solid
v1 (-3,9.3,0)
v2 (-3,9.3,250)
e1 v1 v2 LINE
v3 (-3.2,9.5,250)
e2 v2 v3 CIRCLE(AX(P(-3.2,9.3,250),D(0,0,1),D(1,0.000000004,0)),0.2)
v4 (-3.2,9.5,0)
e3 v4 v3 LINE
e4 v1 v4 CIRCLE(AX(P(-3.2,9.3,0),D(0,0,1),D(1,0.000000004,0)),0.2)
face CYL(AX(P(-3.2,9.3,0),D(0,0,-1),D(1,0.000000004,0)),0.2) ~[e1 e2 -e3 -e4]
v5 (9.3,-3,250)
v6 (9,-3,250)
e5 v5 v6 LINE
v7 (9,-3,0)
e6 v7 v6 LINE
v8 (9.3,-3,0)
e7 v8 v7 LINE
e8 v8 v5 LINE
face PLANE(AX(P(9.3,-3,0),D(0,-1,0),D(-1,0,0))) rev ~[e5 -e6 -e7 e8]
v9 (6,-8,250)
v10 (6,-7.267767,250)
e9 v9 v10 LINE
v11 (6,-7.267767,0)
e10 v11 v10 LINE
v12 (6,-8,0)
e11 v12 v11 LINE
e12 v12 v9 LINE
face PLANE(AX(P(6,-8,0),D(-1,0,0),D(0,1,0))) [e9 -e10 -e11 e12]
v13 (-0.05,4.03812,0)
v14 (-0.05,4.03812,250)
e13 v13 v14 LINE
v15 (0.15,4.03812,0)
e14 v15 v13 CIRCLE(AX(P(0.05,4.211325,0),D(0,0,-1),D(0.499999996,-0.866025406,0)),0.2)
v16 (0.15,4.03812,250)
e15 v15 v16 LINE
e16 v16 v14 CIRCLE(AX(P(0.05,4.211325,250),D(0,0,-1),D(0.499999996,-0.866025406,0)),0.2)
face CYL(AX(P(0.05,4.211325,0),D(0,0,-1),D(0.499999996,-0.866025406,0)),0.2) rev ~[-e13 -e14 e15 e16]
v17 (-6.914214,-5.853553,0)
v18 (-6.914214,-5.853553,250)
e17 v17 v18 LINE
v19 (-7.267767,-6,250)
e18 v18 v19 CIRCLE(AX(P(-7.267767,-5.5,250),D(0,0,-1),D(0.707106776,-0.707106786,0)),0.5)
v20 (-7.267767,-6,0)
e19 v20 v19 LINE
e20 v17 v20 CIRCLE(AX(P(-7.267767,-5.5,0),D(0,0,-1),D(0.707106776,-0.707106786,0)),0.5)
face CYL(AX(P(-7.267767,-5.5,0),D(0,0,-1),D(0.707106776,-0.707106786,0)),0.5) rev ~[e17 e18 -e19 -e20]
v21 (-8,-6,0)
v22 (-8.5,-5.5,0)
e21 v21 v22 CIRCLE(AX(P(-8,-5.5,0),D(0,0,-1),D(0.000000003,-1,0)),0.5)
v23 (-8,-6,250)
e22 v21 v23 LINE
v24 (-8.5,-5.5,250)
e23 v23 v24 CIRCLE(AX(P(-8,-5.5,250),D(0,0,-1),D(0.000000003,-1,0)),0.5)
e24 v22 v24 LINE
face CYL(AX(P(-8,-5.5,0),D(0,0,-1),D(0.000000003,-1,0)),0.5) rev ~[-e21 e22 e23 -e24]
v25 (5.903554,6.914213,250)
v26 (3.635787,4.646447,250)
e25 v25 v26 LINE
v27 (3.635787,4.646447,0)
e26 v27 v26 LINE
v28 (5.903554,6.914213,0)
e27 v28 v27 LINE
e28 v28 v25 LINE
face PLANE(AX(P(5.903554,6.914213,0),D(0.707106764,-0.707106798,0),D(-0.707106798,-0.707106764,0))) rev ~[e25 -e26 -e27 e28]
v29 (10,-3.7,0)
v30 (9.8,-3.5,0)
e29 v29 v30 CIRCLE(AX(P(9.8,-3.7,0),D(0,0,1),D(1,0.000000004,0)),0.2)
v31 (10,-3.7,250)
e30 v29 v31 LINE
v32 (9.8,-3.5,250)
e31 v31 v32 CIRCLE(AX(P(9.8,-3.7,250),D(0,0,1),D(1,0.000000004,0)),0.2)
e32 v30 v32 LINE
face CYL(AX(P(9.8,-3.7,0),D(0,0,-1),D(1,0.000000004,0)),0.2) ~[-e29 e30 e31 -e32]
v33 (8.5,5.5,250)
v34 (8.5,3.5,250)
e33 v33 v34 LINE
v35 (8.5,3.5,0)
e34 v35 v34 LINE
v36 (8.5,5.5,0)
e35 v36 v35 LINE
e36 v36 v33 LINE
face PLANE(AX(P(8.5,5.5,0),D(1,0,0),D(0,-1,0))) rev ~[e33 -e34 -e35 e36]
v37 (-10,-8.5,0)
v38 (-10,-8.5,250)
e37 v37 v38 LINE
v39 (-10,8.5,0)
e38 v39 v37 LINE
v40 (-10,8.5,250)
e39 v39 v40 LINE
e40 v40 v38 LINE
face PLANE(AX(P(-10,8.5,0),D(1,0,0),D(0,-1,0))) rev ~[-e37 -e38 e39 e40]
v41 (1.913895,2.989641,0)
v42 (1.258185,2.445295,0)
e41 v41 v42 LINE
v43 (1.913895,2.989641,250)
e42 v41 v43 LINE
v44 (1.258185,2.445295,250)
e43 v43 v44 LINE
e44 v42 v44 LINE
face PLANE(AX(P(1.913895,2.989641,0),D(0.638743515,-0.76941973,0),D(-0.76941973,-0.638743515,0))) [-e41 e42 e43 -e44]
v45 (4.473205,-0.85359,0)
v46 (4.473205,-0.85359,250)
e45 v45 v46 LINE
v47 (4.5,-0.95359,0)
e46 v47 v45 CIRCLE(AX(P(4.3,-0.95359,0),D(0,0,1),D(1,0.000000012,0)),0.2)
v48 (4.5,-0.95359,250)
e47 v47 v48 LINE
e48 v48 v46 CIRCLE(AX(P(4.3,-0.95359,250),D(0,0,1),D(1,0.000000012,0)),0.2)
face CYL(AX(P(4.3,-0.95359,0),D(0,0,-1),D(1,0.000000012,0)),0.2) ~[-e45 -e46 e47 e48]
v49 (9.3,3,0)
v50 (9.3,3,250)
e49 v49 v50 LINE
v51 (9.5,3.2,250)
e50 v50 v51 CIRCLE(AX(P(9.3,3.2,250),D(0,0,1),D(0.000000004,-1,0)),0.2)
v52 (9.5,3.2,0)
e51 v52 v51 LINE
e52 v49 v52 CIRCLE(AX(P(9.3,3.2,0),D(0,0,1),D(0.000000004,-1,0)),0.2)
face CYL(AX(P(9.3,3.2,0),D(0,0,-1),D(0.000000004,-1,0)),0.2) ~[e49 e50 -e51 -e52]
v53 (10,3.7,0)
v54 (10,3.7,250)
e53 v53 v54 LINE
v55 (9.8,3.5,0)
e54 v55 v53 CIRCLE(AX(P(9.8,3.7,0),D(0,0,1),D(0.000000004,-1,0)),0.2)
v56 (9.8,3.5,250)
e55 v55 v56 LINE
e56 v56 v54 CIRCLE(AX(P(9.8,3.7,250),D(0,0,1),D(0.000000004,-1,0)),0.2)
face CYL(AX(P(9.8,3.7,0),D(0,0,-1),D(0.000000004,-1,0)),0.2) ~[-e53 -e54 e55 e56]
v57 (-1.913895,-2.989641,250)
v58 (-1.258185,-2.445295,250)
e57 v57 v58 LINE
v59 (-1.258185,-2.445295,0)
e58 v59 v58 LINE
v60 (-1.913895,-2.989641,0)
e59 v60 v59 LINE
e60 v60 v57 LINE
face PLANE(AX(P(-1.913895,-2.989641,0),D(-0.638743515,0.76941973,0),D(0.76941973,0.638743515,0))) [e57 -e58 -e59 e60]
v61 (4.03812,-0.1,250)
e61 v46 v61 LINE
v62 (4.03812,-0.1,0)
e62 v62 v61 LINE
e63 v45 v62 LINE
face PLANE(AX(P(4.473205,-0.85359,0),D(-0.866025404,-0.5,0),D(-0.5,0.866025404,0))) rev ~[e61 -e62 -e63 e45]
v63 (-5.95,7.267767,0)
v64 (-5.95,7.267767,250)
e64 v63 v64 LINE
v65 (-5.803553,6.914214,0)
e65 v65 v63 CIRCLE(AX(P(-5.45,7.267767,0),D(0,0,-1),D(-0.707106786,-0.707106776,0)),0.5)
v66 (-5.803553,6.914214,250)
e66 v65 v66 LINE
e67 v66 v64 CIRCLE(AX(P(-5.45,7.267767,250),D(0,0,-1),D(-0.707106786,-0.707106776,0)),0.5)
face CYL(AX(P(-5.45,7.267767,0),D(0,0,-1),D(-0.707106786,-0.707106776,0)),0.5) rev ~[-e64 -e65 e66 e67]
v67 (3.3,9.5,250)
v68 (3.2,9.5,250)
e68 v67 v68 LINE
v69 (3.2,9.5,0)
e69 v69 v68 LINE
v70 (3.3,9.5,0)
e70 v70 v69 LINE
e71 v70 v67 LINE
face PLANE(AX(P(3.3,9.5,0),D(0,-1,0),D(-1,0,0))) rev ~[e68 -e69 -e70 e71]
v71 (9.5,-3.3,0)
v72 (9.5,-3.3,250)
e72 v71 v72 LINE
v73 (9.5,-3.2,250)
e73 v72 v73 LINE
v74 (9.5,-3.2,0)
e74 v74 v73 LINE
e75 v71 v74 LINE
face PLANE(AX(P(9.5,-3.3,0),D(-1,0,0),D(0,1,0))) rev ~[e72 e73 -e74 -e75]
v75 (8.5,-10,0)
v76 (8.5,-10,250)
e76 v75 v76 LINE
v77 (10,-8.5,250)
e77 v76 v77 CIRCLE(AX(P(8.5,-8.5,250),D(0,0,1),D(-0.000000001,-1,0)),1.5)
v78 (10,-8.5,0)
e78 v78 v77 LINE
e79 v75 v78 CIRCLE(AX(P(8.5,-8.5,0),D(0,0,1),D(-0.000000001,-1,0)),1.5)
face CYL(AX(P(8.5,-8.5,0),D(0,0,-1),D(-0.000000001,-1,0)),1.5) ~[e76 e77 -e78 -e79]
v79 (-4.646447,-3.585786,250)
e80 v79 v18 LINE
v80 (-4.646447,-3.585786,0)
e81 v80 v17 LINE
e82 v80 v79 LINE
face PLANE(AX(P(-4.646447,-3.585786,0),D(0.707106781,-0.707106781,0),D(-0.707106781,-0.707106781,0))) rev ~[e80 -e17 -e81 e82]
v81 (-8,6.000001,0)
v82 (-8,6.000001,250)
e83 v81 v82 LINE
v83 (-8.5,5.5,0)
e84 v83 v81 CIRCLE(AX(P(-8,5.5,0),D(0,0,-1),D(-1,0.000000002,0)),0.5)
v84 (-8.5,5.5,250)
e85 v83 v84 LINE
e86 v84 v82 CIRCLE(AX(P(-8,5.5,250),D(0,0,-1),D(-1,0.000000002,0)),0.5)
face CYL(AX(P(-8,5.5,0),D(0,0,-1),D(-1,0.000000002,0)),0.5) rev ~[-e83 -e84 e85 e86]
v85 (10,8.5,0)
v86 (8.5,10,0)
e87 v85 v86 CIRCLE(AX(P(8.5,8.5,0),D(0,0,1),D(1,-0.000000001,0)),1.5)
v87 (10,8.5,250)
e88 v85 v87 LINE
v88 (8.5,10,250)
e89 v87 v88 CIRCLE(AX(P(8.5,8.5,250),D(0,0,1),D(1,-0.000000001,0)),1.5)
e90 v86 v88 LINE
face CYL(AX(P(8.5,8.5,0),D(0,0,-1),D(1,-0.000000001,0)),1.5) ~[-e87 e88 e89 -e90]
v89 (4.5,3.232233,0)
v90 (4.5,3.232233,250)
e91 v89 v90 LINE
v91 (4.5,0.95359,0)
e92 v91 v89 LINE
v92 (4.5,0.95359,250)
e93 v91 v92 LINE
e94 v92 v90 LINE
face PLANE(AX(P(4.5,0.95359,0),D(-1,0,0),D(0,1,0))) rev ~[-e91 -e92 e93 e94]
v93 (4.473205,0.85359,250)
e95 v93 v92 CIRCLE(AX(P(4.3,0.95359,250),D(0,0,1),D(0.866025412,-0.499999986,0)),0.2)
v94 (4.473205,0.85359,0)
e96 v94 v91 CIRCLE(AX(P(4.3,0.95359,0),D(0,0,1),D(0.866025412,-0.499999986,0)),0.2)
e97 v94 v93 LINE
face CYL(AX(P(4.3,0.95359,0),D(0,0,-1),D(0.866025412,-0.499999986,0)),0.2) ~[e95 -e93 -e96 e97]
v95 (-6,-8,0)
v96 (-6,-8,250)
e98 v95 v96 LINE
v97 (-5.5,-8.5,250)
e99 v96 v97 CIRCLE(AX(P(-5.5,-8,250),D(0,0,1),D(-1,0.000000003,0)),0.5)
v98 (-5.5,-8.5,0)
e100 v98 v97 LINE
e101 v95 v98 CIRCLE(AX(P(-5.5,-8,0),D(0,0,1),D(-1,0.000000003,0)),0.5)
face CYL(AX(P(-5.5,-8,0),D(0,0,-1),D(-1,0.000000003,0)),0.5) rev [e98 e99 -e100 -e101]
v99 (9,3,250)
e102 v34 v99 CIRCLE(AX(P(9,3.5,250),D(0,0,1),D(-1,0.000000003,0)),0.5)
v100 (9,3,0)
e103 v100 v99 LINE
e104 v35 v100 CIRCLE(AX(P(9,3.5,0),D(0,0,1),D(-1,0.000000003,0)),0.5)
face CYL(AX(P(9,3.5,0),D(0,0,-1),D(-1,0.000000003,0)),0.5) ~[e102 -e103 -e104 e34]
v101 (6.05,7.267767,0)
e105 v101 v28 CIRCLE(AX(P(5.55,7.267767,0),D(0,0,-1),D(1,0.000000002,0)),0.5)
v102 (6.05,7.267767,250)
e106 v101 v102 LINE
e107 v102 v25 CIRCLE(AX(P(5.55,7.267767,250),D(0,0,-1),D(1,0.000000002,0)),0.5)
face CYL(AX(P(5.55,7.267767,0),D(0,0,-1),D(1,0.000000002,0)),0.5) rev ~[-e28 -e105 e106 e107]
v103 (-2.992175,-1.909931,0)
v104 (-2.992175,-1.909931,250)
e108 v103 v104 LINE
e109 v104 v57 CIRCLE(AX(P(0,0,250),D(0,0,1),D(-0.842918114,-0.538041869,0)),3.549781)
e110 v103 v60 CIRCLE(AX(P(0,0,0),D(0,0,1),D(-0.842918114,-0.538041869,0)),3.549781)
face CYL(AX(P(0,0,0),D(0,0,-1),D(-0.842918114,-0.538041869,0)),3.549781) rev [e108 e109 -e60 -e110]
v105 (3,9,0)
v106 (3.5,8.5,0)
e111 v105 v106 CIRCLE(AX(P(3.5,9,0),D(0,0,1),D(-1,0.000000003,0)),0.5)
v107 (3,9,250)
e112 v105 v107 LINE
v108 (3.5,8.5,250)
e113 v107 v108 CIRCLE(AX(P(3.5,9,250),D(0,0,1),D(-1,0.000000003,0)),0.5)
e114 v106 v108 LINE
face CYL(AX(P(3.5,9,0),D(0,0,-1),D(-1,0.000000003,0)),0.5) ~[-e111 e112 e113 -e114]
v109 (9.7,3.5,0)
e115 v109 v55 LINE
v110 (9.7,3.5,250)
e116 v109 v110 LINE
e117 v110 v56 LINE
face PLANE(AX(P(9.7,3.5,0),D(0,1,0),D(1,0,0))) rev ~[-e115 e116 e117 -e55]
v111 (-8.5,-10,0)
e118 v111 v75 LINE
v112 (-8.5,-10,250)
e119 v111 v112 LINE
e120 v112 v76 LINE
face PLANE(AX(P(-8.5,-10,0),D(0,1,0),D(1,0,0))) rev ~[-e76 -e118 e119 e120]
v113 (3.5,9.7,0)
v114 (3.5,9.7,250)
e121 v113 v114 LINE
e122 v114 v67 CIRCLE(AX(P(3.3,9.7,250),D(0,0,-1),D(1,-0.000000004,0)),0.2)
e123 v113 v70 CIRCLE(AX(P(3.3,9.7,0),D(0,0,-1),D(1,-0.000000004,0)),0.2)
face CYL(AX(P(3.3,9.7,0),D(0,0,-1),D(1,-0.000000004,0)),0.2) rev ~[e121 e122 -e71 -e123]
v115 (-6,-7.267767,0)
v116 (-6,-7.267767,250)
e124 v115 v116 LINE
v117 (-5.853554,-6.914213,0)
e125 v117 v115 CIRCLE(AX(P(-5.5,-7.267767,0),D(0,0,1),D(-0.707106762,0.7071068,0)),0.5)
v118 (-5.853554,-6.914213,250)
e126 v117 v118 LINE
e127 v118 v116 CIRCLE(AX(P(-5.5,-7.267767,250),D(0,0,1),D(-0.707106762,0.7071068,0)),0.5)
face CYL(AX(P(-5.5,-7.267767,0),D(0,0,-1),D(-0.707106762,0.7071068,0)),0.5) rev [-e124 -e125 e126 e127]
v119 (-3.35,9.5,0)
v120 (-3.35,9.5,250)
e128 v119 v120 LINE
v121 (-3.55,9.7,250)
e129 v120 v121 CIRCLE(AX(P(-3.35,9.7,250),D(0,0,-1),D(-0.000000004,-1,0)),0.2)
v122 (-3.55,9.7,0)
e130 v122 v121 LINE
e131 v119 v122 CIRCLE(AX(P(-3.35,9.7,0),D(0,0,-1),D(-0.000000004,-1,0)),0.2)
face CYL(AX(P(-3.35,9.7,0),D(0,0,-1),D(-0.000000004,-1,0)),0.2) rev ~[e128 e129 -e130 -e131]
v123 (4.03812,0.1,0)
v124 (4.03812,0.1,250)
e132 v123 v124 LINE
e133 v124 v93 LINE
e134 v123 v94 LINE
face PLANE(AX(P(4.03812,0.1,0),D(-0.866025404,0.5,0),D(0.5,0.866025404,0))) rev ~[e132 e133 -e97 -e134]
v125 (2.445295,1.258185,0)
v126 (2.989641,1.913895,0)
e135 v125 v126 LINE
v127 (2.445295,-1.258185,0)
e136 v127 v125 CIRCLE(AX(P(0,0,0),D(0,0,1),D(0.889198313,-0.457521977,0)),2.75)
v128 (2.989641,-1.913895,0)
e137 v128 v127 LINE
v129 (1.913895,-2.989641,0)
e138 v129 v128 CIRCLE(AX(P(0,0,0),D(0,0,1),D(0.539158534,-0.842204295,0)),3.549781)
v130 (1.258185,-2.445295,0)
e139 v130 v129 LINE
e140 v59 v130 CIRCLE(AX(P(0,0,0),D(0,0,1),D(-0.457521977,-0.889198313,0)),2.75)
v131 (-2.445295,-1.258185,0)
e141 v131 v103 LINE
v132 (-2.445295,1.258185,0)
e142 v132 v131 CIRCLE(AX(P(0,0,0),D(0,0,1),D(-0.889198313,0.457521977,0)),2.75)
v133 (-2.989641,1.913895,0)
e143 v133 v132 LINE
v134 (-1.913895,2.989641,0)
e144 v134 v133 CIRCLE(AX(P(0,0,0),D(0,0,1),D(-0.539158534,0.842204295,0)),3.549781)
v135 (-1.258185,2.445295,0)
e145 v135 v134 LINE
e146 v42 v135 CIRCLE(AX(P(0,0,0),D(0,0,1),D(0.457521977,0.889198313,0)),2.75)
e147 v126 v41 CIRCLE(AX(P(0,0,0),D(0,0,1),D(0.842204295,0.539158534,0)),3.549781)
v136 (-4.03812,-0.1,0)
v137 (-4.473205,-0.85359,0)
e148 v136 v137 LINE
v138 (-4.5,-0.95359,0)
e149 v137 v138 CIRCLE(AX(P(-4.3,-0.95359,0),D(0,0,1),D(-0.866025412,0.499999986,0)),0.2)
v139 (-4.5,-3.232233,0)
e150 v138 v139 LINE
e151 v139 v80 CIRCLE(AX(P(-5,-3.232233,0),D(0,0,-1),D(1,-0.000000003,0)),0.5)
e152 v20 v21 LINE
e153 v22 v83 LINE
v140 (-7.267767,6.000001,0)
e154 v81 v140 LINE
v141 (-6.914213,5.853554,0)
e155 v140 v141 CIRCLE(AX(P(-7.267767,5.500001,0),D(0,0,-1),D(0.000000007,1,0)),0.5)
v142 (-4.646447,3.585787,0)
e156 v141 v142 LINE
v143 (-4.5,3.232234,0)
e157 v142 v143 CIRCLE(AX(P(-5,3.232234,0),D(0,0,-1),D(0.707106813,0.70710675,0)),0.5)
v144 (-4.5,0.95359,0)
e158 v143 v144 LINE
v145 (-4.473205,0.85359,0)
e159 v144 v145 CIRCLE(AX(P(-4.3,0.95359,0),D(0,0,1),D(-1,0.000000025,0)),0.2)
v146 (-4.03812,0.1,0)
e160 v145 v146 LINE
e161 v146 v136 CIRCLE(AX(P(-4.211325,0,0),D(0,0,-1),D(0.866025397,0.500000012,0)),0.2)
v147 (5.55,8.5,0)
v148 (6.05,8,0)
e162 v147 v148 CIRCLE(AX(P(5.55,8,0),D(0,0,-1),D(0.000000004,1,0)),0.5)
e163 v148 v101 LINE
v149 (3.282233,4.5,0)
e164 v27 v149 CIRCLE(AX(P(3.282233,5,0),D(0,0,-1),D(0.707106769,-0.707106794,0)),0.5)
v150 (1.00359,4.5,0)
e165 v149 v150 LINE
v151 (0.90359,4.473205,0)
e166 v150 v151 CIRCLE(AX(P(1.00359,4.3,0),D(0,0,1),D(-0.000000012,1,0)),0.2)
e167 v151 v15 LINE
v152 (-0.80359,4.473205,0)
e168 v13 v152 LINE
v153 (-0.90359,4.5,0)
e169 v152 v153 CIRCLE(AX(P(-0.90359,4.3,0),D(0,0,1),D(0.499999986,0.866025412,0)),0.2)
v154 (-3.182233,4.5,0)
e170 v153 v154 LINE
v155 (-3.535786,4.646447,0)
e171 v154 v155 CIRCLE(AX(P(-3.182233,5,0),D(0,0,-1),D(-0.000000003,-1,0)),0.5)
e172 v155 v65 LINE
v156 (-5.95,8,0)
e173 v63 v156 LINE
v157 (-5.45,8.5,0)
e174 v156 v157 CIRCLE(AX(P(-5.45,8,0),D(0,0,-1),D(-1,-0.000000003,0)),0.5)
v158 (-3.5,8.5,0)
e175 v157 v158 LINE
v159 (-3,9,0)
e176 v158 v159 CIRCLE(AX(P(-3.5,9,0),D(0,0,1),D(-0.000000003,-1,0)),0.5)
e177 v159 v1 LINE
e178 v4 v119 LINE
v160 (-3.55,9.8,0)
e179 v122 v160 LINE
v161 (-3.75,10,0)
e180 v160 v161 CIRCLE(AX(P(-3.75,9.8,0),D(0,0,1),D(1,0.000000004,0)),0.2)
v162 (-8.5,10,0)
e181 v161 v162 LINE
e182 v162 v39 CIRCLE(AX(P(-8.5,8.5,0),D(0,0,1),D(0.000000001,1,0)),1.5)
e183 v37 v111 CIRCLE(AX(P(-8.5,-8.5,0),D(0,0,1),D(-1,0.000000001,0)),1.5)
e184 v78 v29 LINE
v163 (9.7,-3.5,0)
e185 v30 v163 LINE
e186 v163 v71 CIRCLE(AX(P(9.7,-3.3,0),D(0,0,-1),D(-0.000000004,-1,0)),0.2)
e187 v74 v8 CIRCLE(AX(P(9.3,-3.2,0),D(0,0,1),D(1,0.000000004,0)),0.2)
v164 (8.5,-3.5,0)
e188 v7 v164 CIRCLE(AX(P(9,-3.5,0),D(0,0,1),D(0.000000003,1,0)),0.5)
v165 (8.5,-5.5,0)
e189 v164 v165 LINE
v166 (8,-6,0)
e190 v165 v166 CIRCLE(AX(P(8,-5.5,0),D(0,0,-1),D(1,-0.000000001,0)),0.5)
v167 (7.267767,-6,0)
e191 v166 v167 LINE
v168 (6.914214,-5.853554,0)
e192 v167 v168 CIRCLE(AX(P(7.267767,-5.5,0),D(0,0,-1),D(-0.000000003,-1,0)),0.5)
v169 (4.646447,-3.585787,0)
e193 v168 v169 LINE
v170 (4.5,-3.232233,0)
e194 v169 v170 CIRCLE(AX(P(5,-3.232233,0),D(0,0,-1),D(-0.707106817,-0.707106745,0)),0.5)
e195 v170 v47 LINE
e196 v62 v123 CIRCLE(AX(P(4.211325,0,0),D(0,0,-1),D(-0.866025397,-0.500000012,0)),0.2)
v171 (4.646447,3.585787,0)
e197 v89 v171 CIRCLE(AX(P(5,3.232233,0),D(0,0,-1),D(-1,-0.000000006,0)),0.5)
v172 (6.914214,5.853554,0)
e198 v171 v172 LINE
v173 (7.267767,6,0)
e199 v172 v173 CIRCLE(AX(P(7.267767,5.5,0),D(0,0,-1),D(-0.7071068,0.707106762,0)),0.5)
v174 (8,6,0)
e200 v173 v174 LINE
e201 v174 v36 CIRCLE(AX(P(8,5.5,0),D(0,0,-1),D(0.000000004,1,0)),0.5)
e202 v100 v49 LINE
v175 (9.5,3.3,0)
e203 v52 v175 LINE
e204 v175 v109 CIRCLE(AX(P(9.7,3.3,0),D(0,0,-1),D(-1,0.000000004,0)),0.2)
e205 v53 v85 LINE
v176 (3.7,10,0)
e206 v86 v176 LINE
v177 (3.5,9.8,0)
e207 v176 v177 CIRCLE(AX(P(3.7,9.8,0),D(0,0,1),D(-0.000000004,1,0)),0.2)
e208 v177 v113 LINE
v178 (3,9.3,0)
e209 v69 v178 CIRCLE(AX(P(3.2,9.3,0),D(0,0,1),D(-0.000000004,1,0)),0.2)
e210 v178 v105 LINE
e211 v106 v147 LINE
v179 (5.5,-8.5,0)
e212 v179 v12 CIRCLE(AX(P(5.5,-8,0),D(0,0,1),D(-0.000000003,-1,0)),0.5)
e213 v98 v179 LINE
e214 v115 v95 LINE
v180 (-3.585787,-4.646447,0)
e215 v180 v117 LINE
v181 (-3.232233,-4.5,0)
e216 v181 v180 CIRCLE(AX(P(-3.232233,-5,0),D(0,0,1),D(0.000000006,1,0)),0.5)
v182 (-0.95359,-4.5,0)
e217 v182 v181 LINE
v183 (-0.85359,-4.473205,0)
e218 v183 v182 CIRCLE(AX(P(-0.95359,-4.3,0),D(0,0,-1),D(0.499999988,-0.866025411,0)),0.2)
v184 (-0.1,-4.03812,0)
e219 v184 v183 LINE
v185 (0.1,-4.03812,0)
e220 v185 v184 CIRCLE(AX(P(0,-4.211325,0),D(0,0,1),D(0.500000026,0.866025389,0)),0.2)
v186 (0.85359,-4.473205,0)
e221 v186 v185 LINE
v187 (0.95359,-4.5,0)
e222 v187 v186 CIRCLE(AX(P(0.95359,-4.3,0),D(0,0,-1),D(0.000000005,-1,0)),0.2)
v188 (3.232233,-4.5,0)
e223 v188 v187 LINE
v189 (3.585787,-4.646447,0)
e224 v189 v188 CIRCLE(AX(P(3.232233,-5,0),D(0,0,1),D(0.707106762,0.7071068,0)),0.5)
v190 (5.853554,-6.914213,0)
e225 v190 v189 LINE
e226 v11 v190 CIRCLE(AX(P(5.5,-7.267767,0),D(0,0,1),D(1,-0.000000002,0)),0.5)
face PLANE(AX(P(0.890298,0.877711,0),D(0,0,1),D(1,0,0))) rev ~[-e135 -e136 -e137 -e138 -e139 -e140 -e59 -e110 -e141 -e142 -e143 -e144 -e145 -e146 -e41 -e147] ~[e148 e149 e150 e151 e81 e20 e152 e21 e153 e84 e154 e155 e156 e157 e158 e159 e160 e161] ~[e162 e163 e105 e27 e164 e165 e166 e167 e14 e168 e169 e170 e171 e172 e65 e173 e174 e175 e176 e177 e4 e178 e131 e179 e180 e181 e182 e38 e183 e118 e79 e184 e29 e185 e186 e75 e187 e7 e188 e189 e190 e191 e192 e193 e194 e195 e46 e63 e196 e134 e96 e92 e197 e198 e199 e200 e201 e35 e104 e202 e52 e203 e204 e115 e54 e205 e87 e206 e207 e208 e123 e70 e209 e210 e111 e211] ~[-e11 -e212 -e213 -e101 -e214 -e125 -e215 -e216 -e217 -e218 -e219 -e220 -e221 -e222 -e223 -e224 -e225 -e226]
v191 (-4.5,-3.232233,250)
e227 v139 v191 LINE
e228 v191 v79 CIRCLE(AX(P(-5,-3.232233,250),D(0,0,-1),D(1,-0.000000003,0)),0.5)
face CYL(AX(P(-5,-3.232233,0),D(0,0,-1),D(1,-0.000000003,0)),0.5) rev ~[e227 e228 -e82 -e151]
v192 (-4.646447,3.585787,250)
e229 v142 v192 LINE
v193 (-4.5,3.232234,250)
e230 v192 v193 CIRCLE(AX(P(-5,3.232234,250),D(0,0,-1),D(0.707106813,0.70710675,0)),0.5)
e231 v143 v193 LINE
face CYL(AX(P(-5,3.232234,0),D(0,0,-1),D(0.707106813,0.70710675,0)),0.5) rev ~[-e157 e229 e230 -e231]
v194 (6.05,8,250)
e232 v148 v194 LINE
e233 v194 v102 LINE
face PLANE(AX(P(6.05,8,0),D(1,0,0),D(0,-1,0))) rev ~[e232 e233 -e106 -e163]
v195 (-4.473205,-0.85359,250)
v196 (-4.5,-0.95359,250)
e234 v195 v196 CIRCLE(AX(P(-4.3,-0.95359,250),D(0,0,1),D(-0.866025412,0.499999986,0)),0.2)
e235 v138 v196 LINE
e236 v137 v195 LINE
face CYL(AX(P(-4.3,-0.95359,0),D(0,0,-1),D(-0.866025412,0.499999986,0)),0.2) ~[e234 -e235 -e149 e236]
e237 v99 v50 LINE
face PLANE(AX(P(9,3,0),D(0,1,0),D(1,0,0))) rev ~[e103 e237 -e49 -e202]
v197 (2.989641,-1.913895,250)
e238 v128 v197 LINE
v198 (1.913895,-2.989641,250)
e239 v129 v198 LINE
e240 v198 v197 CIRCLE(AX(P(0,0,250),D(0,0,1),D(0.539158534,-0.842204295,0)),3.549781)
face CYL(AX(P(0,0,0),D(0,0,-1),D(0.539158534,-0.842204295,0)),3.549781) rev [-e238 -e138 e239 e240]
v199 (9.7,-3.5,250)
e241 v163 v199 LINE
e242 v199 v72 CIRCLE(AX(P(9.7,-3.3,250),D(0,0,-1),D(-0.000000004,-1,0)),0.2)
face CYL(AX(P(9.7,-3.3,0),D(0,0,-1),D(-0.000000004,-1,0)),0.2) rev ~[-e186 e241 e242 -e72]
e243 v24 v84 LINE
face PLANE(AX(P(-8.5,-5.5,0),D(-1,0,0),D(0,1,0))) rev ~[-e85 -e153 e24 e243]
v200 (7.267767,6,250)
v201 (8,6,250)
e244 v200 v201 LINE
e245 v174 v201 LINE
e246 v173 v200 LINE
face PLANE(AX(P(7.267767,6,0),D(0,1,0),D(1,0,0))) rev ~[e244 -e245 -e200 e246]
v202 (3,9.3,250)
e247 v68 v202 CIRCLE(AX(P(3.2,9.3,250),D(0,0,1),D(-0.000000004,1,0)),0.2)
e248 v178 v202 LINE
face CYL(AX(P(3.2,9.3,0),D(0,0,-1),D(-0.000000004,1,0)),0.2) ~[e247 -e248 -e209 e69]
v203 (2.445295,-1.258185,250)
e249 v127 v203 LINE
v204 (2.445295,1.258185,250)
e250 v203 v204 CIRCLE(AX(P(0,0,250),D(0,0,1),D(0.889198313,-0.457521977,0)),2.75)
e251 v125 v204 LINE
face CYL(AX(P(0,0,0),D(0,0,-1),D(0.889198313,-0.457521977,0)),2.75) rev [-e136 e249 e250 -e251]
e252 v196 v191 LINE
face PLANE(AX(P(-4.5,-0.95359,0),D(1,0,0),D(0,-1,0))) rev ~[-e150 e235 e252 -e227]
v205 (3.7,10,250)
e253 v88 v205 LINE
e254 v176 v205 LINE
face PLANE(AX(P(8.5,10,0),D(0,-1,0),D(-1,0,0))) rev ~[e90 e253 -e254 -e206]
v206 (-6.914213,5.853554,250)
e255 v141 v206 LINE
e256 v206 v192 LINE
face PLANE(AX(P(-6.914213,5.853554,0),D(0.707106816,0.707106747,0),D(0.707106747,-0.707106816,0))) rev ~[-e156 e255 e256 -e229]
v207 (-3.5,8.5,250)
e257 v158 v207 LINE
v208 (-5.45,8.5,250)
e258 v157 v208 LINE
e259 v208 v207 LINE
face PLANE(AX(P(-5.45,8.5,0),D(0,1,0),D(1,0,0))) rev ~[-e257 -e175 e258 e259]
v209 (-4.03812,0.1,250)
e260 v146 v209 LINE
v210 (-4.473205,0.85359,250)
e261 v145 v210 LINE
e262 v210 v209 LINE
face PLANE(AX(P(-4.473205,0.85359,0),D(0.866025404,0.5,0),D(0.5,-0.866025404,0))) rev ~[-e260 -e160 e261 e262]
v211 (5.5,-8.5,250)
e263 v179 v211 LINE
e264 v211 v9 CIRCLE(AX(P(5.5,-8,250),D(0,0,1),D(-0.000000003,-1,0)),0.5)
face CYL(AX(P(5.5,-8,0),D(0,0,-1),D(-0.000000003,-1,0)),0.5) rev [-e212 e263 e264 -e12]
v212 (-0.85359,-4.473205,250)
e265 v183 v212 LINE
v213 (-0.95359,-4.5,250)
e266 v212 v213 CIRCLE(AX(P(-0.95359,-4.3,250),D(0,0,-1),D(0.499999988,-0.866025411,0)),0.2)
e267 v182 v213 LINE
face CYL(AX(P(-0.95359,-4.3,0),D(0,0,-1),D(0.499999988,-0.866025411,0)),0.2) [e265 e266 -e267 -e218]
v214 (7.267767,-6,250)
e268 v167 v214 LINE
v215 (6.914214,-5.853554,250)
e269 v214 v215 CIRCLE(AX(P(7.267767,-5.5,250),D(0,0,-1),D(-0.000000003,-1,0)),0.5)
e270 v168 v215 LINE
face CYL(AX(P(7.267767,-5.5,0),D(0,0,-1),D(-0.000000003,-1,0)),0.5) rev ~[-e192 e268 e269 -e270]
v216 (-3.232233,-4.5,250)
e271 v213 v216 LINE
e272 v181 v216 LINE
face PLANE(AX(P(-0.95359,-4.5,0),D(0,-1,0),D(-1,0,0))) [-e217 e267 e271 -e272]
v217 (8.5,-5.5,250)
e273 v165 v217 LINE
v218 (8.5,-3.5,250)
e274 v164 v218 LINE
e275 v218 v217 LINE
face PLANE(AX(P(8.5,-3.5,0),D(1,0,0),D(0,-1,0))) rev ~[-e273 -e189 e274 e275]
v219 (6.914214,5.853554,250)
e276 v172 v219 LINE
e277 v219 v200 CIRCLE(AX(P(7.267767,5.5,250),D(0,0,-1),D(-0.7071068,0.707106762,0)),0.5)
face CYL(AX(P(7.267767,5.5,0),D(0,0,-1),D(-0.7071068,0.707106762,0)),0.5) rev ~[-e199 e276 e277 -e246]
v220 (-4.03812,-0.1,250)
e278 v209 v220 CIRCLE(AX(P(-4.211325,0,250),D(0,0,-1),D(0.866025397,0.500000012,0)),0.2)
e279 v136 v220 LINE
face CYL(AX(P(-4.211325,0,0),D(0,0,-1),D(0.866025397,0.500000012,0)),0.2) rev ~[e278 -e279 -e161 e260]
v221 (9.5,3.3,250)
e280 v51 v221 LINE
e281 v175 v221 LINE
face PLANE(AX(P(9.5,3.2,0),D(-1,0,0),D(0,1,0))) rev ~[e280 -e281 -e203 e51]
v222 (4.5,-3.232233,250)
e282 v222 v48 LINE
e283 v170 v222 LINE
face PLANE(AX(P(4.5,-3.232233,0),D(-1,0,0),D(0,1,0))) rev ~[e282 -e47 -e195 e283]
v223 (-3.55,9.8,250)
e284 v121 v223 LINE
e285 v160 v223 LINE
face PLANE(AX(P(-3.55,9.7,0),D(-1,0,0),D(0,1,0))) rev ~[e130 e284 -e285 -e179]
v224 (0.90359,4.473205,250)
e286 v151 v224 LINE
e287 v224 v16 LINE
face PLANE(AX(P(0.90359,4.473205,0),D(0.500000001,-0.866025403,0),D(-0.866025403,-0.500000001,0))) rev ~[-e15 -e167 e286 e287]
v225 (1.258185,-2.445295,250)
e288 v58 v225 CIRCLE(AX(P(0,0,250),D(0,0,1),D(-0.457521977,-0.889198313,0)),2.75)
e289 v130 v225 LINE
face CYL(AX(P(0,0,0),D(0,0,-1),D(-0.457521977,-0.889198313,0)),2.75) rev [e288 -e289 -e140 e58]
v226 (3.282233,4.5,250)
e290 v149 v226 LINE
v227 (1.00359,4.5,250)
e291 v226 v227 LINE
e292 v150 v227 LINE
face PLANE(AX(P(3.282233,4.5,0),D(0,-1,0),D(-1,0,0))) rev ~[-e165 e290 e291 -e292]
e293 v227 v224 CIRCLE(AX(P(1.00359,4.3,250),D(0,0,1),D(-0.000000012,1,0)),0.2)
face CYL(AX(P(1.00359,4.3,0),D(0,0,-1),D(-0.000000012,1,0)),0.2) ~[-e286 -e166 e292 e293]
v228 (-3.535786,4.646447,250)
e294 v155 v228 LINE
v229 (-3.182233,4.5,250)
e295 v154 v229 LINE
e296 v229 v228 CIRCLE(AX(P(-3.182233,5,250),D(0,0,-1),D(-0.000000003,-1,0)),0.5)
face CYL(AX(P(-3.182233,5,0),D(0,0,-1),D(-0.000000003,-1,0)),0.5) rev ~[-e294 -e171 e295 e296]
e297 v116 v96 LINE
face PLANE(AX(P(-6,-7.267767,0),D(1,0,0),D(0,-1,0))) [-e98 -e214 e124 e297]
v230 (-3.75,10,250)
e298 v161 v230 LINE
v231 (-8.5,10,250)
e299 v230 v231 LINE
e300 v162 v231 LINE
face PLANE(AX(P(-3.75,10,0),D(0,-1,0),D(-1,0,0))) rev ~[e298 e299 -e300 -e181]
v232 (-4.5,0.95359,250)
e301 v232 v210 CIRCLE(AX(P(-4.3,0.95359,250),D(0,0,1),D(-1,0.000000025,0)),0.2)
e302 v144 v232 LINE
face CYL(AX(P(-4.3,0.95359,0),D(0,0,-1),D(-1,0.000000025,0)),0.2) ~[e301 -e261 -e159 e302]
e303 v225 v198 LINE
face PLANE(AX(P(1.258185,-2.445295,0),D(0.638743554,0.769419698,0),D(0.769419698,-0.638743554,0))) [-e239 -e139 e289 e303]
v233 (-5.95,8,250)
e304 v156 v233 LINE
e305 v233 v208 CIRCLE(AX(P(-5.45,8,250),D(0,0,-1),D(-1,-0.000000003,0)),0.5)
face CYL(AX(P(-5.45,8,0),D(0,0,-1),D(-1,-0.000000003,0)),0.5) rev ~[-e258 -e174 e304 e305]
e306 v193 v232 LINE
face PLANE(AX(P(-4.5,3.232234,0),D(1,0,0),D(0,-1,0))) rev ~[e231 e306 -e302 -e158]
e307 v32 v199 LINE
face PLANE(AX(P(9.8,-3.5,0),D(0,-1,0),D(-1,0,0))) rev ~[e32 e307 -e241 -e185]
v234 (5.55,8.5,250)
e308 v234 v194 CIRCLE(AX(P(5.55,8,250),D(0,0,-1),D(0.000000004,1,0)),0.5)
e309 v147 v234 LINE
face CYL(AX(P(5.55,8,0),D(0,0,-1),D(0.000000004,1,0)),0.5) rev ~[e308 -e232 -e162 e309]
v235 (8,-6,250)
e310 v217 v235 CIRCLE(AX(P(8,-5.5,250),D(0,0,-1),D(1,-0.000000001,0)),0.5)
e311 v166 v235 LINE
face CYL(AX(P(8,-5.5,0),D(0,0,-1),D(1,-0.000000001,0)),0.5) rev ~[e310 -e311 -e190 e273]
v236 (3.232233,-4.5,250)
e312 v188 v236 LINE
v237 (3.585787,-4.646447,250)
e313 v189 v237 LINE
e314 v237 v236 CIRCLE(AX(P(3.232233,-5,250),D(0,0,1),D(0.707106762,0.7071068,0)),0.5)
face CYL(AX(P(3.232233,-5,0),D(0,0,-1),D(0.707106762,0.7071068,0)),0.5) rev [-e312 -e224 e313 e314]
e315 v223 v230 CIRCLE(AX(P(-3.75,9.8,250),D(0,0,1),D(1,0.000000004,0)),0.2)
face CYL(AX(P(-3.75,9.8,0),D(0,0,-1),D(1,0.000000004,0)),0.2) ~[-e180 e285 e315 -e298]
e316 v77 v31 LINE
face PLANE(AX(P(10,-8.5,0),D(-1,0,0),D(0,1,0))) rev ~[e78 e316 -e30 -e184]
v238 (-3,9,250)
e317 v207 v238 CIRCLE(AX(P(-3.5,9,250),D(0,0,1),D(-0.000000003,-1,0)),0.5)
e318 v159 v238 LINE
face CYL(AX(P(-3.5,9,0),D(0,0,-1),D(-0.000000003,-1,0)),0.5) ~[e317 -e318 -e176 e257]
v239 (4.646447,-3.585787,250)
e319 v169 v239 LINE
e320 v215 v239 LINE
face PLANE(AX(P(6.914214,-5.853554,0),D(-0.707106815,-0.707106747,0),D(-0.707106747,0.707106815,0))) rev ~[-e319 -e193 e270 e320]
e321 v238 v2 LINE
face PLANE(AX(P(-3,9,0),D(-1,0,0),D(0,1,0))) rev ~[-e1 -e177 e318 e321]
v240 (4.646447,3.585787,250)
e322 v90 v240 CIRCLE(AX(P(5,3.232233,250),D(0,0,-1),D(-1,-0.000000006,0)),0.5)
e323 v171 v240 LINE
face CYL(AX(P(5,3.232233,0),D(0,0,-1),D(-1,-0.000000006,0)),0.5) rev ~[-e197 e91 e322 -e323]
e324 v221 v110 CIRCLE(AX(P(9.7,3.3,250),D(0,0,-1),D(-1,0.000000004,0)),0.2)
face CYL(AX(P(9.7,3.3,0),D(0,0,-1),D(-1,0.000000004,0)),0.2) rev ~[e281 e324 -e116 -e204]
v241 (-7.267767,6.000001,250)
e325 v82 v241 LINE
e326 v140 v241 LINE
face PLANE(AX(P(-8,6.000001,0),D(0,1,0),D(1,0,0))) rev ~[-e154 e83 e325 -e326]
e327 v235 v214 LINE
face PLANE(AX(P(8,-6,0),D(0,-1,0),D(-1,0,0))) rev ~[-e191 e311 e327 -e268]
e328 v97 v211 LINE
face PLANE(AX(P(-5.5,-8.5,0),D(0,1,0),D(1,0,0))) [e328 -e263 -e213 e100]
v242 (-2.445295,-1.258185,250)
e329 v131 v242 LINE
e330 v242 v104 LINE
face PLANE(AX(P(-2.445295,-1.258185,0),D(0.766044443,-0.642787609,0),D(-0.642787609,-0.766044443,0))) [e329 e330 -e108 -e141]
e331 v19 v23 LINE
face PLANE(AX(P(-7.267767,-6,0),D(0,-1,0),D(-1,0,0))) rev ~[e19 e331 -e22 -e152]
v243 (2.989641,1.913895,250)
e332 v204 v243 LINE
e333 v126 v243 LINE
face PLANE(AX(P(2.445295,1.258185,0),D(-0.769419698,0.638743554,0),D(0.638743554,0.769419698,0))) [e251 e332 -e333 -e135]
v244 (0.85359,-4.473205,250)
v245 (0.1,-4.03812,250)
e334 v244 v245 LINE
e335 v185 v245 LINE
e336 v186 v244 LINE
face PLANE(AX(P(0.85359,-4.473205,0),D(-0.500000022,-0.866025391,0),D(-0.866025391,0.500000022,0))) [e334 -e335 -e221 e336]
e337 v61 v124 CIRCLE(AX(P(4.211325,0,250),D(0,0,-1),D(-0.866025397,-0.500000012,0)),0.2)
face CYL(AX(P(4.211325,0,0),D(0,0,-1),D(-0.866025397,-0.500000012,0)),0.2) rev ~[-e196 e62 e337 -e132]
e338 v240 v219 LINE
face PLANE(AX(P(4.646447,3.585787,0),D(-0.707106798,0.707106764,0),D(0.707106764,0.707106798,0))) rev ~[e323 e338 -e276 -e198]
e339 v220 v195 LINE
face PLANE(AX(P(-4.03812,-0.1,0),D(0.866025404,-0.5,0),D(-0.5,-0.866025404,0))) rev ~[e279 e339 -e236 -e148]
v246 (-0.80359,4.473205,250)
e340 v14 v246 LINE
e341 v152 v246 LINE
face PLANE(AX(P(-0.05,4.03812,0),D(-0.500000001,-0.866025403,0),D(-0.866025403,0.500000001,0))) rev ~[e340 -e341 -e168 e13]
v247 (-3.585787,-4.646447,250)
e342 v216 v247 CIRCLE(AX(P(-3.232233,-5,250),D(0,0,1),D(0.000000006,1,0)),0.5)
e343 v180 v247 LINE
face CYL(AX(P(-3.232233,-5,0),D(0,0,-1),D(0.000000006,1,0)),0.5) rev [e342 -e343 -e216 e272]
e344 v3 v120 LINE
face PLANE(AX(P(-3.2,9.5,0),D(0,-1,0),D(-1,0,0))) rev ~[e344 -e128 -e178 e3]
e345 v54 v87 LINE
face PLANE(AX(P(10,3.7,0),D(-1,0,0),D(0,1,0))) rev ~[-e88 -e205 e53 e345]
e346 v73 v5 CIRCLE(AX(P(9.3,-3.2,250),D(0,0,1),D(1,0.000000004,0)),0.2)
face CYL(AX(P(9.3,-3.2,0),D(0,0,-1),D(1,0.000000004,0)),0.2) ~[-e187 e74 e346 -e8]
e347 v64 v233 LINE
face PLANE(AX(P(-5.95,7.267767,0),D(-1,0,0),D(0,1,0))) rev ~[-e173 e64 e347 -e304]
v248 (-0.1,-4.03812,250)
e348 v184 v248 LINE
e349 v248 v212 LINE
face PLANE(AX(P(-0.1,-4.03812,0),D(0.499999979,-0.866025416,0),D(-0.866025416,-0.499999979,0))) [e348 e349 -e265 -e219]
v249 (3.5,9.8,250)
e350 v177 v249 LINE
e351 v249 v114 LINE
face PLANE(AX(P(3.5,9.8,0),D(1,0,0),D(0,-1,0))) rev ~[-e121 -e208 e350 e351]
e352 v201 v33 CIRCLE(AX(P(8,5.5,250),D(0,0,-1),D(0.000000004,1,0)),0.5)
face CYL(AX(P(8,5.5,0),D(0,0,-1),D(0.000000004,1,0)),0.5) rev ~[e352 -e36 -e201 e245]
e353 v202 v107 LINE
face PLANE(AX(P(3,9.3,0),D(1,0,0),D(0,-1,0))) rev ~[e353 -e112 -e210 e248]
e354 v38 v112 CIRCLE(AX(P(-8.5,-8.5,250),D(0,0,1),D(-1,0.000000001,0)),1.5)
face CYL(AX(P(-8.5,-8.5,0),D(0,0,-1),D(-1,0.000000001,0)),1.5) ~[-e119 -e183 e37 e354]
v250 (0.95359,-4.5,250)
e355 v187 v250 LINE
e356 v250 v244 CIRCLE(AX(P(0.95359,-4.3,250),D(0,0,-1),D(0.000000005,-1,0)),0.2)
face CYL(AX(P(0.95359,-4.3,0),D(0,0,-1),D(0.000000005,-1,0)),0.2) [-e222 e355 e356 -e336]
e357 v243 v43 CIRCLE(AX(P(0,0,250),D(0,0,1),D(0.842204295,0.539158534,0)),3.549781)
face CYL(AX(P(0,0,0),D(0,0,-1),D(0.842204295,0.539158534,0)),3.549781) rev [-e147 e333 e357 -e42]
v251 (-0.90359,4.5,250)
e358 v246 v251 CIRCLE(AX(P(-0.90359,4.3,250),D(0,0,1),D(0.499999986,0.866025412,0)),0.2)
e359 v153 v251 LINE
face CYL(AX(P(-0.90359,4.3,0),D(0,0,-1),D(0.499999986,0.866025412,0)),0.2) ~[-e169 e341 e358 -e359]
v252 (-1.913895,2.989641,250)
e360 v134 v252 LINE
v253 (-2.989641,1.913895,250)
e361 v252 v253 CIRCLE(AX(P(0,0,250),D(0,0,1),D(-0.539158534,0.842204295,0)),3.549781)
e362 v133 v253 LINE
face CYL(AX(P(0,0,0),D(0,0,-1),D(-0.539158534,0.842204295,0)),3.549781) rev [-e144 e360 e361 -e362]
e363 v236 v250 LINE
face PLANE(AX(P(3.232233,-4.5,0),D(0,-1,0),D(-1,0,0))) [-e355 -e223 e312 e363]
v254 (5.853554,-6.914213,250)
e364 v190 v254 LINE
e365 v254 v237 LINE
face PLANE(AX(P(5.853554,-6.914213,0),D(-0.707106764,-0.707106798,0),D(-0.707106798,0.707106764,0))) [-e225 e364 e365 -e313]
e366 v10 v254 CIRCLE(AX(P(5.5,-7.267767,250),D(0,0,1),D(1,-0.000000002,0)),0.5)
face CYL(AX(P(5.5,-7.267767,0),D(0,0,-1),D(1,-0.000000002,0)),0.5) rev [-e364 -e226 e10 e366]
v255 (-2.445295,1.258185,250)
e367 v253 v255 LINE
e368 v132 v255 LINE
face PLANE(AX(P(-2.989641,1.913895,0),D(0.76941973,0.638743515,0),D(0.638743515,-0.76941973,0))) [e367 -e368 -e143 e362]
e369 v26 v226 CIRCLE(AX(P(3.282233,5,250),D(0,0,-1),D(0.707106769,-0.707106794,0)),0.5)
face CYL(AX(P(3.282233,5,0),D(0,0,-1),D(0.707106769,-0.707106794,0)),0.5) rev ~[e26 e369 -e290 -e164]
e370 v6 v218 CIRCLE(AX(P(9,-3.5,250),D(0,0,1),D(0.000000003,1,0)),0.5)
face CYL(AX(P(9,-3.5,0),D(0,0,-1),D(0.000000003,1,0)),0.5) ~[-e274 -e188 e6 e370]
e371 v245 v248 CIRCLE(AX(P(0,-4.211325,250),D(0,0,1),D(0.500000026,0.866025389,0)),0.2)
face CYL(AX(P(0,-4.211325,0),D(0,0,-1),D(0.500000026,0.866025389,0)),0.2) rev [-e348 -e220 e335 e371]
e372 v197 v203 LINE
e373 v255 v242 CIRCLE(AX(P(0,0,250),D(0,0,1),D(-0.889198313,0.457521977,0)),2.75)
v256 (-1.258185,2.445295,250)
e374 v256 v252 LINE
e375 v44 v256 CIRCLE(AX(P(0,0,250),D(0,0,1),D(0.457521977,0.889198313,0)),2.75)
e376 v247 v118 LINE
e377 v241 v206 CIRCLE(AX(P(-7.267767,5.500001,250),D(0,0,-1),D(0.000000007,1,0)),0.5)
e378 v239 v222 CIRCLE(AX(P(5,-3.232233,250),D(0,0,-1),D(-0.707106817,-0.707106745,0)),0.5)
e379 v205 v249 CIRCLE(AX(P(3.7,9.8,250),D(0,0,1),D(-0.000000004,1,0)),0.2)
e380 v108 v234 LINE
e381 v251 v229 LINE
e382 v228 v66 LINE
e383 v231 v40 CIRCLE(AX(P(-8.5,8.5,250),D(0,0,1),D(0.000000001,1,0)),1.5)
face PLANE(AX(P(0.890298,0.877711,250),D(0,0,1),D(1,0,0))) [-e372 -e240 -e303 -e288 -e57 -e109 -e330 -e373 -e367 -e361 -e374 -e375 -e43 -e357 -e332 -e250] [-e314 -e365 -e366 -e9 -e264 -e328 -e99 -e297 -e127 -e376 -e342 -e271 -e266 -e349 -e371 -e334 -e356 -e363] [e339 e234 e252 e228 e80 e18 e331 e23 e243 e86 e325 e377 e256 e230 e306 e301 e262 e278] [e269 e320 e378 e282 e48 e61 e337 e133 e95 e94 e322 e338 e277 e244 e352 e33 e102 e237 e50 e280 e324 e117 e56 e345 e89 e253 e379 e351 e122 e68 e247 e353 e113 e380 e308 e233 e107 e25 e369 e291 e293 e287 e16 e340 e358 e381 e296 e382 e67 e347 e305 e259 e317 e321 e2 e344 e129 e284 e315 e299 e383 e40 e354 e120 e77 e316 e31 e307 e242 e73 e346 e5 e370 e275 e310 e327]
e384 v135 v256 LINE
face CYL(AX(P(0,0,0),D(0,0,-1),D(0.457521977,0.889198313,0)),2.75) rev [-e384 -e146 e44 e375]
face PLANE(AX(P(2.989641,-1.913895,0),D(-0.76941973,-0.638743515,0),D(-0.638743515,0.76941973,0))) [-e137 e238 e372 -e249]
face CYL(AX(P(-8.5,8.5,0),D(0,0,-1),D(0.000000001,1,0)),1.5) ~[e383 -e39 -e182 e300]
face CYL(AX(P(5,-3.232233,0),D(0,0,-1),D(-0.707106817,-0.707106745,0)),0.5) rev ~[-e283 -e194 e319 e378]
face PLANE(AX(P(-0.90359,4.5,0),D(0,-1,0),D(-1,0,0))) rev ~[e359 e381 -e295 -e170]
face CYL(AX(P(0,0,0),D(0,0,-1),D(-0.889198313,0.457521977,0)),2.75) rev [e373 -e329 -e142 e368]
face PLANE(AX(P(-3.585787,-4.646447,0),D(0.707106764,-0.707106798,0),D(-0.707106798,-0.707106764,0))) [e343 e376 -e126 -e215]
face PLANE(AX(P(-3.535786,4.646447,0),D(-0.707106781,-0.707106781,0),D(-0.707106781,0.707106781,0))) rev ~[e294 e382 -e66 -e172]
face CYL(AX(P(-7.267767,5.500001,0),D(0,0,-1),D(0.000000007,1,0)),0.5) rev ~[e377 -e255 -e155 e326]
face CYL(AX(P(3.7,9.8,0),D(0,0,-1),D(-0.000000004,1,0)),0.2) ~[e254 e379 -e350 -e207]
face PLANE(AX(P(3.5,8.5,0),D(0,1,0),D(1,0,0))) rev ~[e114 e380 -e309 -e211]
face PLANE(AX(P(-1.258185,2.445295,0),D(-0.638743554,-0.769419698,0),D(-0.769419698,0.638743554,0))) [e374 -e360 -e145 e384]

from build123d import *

# Parameters (mm, degrees)
EXTRUDE1_DEPTH = 250


with BuildPart() as part:
    # Sketch1 → Extrude1 (new body)
    with BuildSketch(Plane.XY):
        with BuildLine():
            Line((-8.5, -10), (8.5, -10))
            ThreePointArc((8.5, -10), (9.560660172, -9.560660172), (10, -8.5))
            Line((10, -8.5), (10, -3.7))
            ThreePointArc((10, -3.7), (9.941421356, -3.558578644), (9.8, -3.5))
            Line((9.8, -3.5), (9.7, -3.5))
            ThreePointArc((9.7, -3.5), (9.558578644, -3.441421356), (9.5, -3.3))
            Line((9.5, -3.3), (9.5, -3.2))
            ThreePointArc((9.5, -3.2), (9.441421356, -3.058578644), (9.3, -3))
            Line((9.3, -3), (9, -3))
            ThreePointArc((9, -3), (8.646446609, -3.146446609), (8.5, -3.5))
            Line((8.5, -3.5), (8.5, -5.500000208))
            ThreePointArc((8.5, -5.500000208), (8.353553391, -5.853553598), (8, -6.000000208))
            Line((8, -6.000000208), (7.267767022, -6.000000208))
            ThreePointArc((7.267767022, -6.000000208), (7.076425294, -5.961939969), (6.914213614, -5.853553581))
            Line((6.914213614, -5.853553581), (4.646446828, -3.585786575))
            ThreePointArc((4.646446828, -3.585786575), (4.538060465, -3.423574906), (4.500000236, -3.232233201))
            Line((4.500000236, -3.232233201), (4.500000236, -0.953589838))
            ThreePointArc((4.500000236, -0.953589838), (4.493185401, -0.901826029), (4.473205317, -0.853589838))
            Line((4.473205317, -0.853589838), (4.038120021, -0.1))
            ThreePointArc((4.038120021, -0.1), (4.011325101, 0), (4.038120021, 0.1))
            Line((4.038120021, 0.1), (4.473205317, 0.853589838))
            ThreePointArc((4.473205317, 0.853589838), (4.493185401, 0.901826029), (4.500000236, 0.953589838))
            Line((4.500000236, 0.953589838), (4.500000236, 3.232233262))
            ThreePointArc((4.500000236, 3.232233262), (4.538060467, 3.423574973), (4.646446837, 3.585786644))
            Line((4.646446837, 3.585786644), (6.914213678, 5.853553596))
            ThreePointArc((6.914213678, 5.853553596), (7.076425355, 5.961939978), (7.267767077, 6.000000214))
            Line((7.267767077, 6.000000214), (8.000000112, 6.000000214))
            ThreePointArc((8.000000112, 6.000000214), (8.353553502, 5.853553604), (8.500000112, 5.500000214))
            Line((8.500000112, 5.500000214), (8.500000112, 3.5))
            ThreePointArc((8.500000112, 3.5), (8.646446721, 3.146446609), (9.000000112, 3))
            Line((9.000000112, 3), (9.300000112, 3))
            ThreePointArc((9.300000112, 3), (9.441421468, 3.058578644), (9.500000112, 3.2))
            Line((9.500000112, 3.2), (9.500000112, 3.3))
            ThreePointArc((9.500000112, 3.3), (9.558578756, 3.441421356), (9.700000112, 3.5))
            Line((9.700000112, 3.5), (9.8, 3.5))
            ThreePointArc((9.8, 3.5), (9.941421356, 3.558578644), (10, 3.7))
            Line((10, 3.7), (10, 8.5))
            ThreePointArc((10, 8.5), (9.560660172, 9.560660172), (8.5, 10))
            Line((8.5, 10), (3.7, 10))
            ThreePointArc((3.7, 10), (3.558578644, 9.941421356), (3.5, 9.8))
            Line((3.5, 9.8), (3.5, 9.7))
            ThreePointArc((3.5, 9.7), (3.441421356, 9.558578644), (3.3, 9.5))
            Line((3.3, 9.5), (3.2, 9.5))
            ThreePointArc((3.2, 9.5), (3.058578644, 9.441421356), (3, 9.3))
            Line((3, 9.3), (3, 9.000000069))
            ThreePointArc((3, 9.000000069), (3.146446609, 8.646446678), (3.5, 8.500000069))
            Line((3.5, 8.500000069), (5.550000287, 8.500000069))
            ThreePointArc((5.550000287, 8.500000069), (5.903553677, 8.353553459), (6.050000287, 8.000000069))
            Line((6.050000287, 8.000000069), (6.050000287, 7.267766898))
            ThreePointArc((6.050000287, 7.267766898), (6.011940051, 7.076425176), (5.903553669, 6.914213499))
            Line((5.903553669, 6.914213499), (3.635786717, 4.646446658))
            ThreePointArc((3.635786717, 4.646446658), (3.473575046, 4.538060288), (3.282233335, 4.500000057))
            Line((3.282233335, 4.500000057), (1.003589985, 4.500000057))
            ThreePointArc((1.003589985, 4.500000057), (0.951826176, 4.493185222), (0.903589985, 4.473205138))
            Line((0.903589985, 4.473205138), (0.150000146, 4.038119841))
            ThreePointArc((0.150000146, 4.038119841), (0.050000146, 4.011324922), (-0.049999854, 4.038119841))
            Line((-0.049999854, 4.038119841), (-0.803589692, 4.473205138))
            ThreePointArc((-0.803589692, 4.473205138), (-0.851825883, 4.493185222), (-0.903589692, 4.500000057))
            Line((-0.903589692, 4.500000057), (-3.182233104, 4.500000057))
            ThreePointArc((-3.182233104, 4.500000057), (-3.37357482, 4.538060291), (-3.535786494, 4.646446666))
            Line((-3.535786494, 4.646446666), (-5.803553391, 6.914213562))
            ThreePointArc((-5.803553391, 6.914213562), (-5.911939766, 7.076425237), (-5.95, 7.267766953))
            Line((-5.95, 7.267766953), (-5.95, 8))
            ThreePointArc((-5.95, 8), (-5.803553391, 8.353553391), (-5.45, 8.5))
            Line((-5.45, 8.5), (-3.5, 8.5))
            ThreePointArc((-3.5, 8.5), (-3.146446609, 8.646446609), (-3, 9))
            Line((-3, 9), (-3, 9.3))
            ThreePointArc((-3, 9.3), (-3.058578644, 9.441421356), (-3.2, 9.5))
            Line((-3.2, 9.5), (-3.35, 9.5))
            ThreePointArc((-3.35, 9.5), (-3.491421356, 9.558578644), (-3.55, 9.7))
            Line((-3.55, 9.7), (-3.55, 9.8))
            ThreePointArc((-3.55, 9.8), (-3.608578644, 9.941421356), (-3.75, 10))
            Line((-3.75, 10), (-8.5, 10))
            ThreePointArc((-8.5, 10), (-9.560660172, 9.560660172), (-10, 8.5))
            Line((-10, 8.5), (-10, -8.5))
            ThreePointArc((-10, -8.5), (-9.560660172, -9.560660172), (-8.5, -10))
        make_face()
        with BuildLine():
            Line((-5.500000147, -8.500000123), (5.500000242, -8.500000123))
            ThreePointArc((5.500000242, -8.500000123), (5.853553633, -8.353553514), (6.000000242, -8.000000123))
            Line((6.000000242, -8.000000123), (6.000000242, -7.267766878))
            ThreePointArc((6.000000242, -7.267766878), (5.961940006, -7.076425156), (5.853553624, -6.914213479))
            Line((5.853553624, -6.914213479), (3.585786637, -4.646446602))
            ThreePointArc((3.585786637, -4.646446602), (3.423574966, -4.538060233), (3.232233255, -4.500000001))
            Line((3.232233255, -4.500000001), (0.953589836, -4.500000001))
            ThreePointArc((0.953589836, -4.500000001), (0.901826025, -4.493185166), (0.853589832, -4.47320508))
            Line((0.853589832, -4.47320508), (0.100000004, -4.038119765))
            ThreePointArc((0.100000004, -4.038119765), (5e-09, -4.011324843), (-0.099999996, -4.03811976))
            Line((-0.099999996, -4.03811976), (-0.853589845, -4.473205038))
            ThreePointArc((-0.853589845, -4.473205038), (-0.901826034, -4.493185121), (-0.953589841, -4.499999955))
            Line((-0.953589841, -4.499999955), (-3.232233196, -4.499999955))
            ThreePointArc((-3.232233196, -4.499999955), (-3.423574907, -4.538060186), (-3.585786578, -4.646446556))
            Line((-3.585786578, -4.646446556), (-5.853553529, -6.914213397))
            ThreePointArc((-5.853553529, -6.914213397), (-5.961939911, -7.076425074), (-6.000000147, -7.267766796))
            Line((-6.000000147, -7.267766796), (-6.000000147, -8.000000123))
            ThreePointArc((-6.000000147, -8.000000123), (-5.853553538, -8.353553514), (-5.500000147, -8.500000123))
        make_face(mode=Mode.SUBTRACT)
        with BuildLine():
            Line((1.258185317, -2.445295423), (1.913894874, -2.989641056))
            ThreePointArc((1.913894874, -2.989641056), (2.510074363, -2.510074485), (2.989640962, -1.91389502))
            Line((2.989640962, -1.91389502), (2.445295362, -1.258185436))
            ThreePointArc((2.445295362, -1.258185436), (2.75, -6.7e-08), (2.445295423, 1.258185317))
            Line((2.445295423, 1.258185317), (2.989641056, 1.913894874))
            ThreePointArc((2.989641056, 1.913894874), (2.510074485, 2.510074363), (1.91389502, 2.989640962))
            Line((1.91389502, 2.989640962), (1.258185436, 2.445295362))
            ThreePointArc((1.258185436, 2.445295362), (6.7e-08, 2.75), (-1.258185317, 2.445295423))
            Line((-1.258185317, 2.445295423), (-1.913894874, 2.989641056))
            ThreePointArc((-1.913894874, 2.989641056), (-2.510074363, 2.510074485), (-2.989640962, 1.91389502))
            Line((-2.989640962, 1.91389502), (-2.445295362, 1.258185436))
            ThreePointArc((-2.445295362, 1.258185436), (-2.75, 6.7e-08), (-2.445295423, -1.258185317))
            Line((-2.445295423, -1.258185317), (-2.992174953, -1.909930962))
            ThreePointArc((-2.992174953, -1.909930962), (-2.511737261, -2.508410485), (-1.91389502, -2.989640962))
            Line((-1.91389502, -2.989640962), (-1.258185436, -2.445295362))
            ThreePointArc((-1.258185436, -2.445295362), (-6.7e-08, -2.75), (1.258185317, -2.445295423))
        make_face(mode=Mode.SUBTRACT)
        with BuildLine():
            Line((-8.5, -5.5), (-8.5, 5.50000039))
            ThreePointArc((-8.5, 5.50000039), (-8.353553351, 5.853553875), (-7.999999866, 6.000000524))
            Line((-7.999999866, 6.000000524), (-7.267766819, 6.000000524))
            ThreePointArc((-7.267766819, 6.000000524), (-7.076425092, 5.961940285), (-6.914213411, 5.853553897))
            Line((-6.914213411, 5.853553897), (-4.646446626, 3.585786891))
            ThreePointArc((-4.646446626, 3.585786891), (-4.538060262, 3.423575222), (-4.500000033, 3.232233517))
            Line((-4.500000033, 3.232233517), (-4.500000033, 0.953590154))
            ThreePointArc((-4.500000033, 0.953590154), (-4.493185199, 0.901826345), (-4.473205114, 0.853590154))
            Line((-4.473205114, 0.853590154), (-4.038119781, 0.100000251))
            ThreePointArc((-4.038119781, 0.100000251), (-4.011324861, 2.51e-07), (-4.038119781, -0.099999749))
            Line((-4.038119781, -0.099999749), (-4.473205138, -0.853589692))
            ThreePointArc((-4.473205138, -0.853589692), (-4.493185222, -0.901825883), (-4.500000057, -0.953589692))
            Line((-4.500000057, -0.953589692), (-4.500000057, -3.232233104))
            ThreePointArc((-4.500000057, -3.232233104), (-4.538060291, -3.42357482), (-4.646446666, -3.585786494))
            Line((-4.646446666, -3.585786494), (-6.914213562, -5.853553391))
            ThreePointArc((-6.914213562, -5.853553391), (-7.076425237, -5.961939766), (-7.267766953, -6))
            Line((-7.267766953, -6), (-8, -6))
            ThreePointArc((-8, -6), (-8.353553391, -5.853553391), (-8.5, -5.5))
        make_face(mode=Mode.SUBTRACT)
    extrude(amount=EXTRUDE1_DEPTH)


solid = part.part
